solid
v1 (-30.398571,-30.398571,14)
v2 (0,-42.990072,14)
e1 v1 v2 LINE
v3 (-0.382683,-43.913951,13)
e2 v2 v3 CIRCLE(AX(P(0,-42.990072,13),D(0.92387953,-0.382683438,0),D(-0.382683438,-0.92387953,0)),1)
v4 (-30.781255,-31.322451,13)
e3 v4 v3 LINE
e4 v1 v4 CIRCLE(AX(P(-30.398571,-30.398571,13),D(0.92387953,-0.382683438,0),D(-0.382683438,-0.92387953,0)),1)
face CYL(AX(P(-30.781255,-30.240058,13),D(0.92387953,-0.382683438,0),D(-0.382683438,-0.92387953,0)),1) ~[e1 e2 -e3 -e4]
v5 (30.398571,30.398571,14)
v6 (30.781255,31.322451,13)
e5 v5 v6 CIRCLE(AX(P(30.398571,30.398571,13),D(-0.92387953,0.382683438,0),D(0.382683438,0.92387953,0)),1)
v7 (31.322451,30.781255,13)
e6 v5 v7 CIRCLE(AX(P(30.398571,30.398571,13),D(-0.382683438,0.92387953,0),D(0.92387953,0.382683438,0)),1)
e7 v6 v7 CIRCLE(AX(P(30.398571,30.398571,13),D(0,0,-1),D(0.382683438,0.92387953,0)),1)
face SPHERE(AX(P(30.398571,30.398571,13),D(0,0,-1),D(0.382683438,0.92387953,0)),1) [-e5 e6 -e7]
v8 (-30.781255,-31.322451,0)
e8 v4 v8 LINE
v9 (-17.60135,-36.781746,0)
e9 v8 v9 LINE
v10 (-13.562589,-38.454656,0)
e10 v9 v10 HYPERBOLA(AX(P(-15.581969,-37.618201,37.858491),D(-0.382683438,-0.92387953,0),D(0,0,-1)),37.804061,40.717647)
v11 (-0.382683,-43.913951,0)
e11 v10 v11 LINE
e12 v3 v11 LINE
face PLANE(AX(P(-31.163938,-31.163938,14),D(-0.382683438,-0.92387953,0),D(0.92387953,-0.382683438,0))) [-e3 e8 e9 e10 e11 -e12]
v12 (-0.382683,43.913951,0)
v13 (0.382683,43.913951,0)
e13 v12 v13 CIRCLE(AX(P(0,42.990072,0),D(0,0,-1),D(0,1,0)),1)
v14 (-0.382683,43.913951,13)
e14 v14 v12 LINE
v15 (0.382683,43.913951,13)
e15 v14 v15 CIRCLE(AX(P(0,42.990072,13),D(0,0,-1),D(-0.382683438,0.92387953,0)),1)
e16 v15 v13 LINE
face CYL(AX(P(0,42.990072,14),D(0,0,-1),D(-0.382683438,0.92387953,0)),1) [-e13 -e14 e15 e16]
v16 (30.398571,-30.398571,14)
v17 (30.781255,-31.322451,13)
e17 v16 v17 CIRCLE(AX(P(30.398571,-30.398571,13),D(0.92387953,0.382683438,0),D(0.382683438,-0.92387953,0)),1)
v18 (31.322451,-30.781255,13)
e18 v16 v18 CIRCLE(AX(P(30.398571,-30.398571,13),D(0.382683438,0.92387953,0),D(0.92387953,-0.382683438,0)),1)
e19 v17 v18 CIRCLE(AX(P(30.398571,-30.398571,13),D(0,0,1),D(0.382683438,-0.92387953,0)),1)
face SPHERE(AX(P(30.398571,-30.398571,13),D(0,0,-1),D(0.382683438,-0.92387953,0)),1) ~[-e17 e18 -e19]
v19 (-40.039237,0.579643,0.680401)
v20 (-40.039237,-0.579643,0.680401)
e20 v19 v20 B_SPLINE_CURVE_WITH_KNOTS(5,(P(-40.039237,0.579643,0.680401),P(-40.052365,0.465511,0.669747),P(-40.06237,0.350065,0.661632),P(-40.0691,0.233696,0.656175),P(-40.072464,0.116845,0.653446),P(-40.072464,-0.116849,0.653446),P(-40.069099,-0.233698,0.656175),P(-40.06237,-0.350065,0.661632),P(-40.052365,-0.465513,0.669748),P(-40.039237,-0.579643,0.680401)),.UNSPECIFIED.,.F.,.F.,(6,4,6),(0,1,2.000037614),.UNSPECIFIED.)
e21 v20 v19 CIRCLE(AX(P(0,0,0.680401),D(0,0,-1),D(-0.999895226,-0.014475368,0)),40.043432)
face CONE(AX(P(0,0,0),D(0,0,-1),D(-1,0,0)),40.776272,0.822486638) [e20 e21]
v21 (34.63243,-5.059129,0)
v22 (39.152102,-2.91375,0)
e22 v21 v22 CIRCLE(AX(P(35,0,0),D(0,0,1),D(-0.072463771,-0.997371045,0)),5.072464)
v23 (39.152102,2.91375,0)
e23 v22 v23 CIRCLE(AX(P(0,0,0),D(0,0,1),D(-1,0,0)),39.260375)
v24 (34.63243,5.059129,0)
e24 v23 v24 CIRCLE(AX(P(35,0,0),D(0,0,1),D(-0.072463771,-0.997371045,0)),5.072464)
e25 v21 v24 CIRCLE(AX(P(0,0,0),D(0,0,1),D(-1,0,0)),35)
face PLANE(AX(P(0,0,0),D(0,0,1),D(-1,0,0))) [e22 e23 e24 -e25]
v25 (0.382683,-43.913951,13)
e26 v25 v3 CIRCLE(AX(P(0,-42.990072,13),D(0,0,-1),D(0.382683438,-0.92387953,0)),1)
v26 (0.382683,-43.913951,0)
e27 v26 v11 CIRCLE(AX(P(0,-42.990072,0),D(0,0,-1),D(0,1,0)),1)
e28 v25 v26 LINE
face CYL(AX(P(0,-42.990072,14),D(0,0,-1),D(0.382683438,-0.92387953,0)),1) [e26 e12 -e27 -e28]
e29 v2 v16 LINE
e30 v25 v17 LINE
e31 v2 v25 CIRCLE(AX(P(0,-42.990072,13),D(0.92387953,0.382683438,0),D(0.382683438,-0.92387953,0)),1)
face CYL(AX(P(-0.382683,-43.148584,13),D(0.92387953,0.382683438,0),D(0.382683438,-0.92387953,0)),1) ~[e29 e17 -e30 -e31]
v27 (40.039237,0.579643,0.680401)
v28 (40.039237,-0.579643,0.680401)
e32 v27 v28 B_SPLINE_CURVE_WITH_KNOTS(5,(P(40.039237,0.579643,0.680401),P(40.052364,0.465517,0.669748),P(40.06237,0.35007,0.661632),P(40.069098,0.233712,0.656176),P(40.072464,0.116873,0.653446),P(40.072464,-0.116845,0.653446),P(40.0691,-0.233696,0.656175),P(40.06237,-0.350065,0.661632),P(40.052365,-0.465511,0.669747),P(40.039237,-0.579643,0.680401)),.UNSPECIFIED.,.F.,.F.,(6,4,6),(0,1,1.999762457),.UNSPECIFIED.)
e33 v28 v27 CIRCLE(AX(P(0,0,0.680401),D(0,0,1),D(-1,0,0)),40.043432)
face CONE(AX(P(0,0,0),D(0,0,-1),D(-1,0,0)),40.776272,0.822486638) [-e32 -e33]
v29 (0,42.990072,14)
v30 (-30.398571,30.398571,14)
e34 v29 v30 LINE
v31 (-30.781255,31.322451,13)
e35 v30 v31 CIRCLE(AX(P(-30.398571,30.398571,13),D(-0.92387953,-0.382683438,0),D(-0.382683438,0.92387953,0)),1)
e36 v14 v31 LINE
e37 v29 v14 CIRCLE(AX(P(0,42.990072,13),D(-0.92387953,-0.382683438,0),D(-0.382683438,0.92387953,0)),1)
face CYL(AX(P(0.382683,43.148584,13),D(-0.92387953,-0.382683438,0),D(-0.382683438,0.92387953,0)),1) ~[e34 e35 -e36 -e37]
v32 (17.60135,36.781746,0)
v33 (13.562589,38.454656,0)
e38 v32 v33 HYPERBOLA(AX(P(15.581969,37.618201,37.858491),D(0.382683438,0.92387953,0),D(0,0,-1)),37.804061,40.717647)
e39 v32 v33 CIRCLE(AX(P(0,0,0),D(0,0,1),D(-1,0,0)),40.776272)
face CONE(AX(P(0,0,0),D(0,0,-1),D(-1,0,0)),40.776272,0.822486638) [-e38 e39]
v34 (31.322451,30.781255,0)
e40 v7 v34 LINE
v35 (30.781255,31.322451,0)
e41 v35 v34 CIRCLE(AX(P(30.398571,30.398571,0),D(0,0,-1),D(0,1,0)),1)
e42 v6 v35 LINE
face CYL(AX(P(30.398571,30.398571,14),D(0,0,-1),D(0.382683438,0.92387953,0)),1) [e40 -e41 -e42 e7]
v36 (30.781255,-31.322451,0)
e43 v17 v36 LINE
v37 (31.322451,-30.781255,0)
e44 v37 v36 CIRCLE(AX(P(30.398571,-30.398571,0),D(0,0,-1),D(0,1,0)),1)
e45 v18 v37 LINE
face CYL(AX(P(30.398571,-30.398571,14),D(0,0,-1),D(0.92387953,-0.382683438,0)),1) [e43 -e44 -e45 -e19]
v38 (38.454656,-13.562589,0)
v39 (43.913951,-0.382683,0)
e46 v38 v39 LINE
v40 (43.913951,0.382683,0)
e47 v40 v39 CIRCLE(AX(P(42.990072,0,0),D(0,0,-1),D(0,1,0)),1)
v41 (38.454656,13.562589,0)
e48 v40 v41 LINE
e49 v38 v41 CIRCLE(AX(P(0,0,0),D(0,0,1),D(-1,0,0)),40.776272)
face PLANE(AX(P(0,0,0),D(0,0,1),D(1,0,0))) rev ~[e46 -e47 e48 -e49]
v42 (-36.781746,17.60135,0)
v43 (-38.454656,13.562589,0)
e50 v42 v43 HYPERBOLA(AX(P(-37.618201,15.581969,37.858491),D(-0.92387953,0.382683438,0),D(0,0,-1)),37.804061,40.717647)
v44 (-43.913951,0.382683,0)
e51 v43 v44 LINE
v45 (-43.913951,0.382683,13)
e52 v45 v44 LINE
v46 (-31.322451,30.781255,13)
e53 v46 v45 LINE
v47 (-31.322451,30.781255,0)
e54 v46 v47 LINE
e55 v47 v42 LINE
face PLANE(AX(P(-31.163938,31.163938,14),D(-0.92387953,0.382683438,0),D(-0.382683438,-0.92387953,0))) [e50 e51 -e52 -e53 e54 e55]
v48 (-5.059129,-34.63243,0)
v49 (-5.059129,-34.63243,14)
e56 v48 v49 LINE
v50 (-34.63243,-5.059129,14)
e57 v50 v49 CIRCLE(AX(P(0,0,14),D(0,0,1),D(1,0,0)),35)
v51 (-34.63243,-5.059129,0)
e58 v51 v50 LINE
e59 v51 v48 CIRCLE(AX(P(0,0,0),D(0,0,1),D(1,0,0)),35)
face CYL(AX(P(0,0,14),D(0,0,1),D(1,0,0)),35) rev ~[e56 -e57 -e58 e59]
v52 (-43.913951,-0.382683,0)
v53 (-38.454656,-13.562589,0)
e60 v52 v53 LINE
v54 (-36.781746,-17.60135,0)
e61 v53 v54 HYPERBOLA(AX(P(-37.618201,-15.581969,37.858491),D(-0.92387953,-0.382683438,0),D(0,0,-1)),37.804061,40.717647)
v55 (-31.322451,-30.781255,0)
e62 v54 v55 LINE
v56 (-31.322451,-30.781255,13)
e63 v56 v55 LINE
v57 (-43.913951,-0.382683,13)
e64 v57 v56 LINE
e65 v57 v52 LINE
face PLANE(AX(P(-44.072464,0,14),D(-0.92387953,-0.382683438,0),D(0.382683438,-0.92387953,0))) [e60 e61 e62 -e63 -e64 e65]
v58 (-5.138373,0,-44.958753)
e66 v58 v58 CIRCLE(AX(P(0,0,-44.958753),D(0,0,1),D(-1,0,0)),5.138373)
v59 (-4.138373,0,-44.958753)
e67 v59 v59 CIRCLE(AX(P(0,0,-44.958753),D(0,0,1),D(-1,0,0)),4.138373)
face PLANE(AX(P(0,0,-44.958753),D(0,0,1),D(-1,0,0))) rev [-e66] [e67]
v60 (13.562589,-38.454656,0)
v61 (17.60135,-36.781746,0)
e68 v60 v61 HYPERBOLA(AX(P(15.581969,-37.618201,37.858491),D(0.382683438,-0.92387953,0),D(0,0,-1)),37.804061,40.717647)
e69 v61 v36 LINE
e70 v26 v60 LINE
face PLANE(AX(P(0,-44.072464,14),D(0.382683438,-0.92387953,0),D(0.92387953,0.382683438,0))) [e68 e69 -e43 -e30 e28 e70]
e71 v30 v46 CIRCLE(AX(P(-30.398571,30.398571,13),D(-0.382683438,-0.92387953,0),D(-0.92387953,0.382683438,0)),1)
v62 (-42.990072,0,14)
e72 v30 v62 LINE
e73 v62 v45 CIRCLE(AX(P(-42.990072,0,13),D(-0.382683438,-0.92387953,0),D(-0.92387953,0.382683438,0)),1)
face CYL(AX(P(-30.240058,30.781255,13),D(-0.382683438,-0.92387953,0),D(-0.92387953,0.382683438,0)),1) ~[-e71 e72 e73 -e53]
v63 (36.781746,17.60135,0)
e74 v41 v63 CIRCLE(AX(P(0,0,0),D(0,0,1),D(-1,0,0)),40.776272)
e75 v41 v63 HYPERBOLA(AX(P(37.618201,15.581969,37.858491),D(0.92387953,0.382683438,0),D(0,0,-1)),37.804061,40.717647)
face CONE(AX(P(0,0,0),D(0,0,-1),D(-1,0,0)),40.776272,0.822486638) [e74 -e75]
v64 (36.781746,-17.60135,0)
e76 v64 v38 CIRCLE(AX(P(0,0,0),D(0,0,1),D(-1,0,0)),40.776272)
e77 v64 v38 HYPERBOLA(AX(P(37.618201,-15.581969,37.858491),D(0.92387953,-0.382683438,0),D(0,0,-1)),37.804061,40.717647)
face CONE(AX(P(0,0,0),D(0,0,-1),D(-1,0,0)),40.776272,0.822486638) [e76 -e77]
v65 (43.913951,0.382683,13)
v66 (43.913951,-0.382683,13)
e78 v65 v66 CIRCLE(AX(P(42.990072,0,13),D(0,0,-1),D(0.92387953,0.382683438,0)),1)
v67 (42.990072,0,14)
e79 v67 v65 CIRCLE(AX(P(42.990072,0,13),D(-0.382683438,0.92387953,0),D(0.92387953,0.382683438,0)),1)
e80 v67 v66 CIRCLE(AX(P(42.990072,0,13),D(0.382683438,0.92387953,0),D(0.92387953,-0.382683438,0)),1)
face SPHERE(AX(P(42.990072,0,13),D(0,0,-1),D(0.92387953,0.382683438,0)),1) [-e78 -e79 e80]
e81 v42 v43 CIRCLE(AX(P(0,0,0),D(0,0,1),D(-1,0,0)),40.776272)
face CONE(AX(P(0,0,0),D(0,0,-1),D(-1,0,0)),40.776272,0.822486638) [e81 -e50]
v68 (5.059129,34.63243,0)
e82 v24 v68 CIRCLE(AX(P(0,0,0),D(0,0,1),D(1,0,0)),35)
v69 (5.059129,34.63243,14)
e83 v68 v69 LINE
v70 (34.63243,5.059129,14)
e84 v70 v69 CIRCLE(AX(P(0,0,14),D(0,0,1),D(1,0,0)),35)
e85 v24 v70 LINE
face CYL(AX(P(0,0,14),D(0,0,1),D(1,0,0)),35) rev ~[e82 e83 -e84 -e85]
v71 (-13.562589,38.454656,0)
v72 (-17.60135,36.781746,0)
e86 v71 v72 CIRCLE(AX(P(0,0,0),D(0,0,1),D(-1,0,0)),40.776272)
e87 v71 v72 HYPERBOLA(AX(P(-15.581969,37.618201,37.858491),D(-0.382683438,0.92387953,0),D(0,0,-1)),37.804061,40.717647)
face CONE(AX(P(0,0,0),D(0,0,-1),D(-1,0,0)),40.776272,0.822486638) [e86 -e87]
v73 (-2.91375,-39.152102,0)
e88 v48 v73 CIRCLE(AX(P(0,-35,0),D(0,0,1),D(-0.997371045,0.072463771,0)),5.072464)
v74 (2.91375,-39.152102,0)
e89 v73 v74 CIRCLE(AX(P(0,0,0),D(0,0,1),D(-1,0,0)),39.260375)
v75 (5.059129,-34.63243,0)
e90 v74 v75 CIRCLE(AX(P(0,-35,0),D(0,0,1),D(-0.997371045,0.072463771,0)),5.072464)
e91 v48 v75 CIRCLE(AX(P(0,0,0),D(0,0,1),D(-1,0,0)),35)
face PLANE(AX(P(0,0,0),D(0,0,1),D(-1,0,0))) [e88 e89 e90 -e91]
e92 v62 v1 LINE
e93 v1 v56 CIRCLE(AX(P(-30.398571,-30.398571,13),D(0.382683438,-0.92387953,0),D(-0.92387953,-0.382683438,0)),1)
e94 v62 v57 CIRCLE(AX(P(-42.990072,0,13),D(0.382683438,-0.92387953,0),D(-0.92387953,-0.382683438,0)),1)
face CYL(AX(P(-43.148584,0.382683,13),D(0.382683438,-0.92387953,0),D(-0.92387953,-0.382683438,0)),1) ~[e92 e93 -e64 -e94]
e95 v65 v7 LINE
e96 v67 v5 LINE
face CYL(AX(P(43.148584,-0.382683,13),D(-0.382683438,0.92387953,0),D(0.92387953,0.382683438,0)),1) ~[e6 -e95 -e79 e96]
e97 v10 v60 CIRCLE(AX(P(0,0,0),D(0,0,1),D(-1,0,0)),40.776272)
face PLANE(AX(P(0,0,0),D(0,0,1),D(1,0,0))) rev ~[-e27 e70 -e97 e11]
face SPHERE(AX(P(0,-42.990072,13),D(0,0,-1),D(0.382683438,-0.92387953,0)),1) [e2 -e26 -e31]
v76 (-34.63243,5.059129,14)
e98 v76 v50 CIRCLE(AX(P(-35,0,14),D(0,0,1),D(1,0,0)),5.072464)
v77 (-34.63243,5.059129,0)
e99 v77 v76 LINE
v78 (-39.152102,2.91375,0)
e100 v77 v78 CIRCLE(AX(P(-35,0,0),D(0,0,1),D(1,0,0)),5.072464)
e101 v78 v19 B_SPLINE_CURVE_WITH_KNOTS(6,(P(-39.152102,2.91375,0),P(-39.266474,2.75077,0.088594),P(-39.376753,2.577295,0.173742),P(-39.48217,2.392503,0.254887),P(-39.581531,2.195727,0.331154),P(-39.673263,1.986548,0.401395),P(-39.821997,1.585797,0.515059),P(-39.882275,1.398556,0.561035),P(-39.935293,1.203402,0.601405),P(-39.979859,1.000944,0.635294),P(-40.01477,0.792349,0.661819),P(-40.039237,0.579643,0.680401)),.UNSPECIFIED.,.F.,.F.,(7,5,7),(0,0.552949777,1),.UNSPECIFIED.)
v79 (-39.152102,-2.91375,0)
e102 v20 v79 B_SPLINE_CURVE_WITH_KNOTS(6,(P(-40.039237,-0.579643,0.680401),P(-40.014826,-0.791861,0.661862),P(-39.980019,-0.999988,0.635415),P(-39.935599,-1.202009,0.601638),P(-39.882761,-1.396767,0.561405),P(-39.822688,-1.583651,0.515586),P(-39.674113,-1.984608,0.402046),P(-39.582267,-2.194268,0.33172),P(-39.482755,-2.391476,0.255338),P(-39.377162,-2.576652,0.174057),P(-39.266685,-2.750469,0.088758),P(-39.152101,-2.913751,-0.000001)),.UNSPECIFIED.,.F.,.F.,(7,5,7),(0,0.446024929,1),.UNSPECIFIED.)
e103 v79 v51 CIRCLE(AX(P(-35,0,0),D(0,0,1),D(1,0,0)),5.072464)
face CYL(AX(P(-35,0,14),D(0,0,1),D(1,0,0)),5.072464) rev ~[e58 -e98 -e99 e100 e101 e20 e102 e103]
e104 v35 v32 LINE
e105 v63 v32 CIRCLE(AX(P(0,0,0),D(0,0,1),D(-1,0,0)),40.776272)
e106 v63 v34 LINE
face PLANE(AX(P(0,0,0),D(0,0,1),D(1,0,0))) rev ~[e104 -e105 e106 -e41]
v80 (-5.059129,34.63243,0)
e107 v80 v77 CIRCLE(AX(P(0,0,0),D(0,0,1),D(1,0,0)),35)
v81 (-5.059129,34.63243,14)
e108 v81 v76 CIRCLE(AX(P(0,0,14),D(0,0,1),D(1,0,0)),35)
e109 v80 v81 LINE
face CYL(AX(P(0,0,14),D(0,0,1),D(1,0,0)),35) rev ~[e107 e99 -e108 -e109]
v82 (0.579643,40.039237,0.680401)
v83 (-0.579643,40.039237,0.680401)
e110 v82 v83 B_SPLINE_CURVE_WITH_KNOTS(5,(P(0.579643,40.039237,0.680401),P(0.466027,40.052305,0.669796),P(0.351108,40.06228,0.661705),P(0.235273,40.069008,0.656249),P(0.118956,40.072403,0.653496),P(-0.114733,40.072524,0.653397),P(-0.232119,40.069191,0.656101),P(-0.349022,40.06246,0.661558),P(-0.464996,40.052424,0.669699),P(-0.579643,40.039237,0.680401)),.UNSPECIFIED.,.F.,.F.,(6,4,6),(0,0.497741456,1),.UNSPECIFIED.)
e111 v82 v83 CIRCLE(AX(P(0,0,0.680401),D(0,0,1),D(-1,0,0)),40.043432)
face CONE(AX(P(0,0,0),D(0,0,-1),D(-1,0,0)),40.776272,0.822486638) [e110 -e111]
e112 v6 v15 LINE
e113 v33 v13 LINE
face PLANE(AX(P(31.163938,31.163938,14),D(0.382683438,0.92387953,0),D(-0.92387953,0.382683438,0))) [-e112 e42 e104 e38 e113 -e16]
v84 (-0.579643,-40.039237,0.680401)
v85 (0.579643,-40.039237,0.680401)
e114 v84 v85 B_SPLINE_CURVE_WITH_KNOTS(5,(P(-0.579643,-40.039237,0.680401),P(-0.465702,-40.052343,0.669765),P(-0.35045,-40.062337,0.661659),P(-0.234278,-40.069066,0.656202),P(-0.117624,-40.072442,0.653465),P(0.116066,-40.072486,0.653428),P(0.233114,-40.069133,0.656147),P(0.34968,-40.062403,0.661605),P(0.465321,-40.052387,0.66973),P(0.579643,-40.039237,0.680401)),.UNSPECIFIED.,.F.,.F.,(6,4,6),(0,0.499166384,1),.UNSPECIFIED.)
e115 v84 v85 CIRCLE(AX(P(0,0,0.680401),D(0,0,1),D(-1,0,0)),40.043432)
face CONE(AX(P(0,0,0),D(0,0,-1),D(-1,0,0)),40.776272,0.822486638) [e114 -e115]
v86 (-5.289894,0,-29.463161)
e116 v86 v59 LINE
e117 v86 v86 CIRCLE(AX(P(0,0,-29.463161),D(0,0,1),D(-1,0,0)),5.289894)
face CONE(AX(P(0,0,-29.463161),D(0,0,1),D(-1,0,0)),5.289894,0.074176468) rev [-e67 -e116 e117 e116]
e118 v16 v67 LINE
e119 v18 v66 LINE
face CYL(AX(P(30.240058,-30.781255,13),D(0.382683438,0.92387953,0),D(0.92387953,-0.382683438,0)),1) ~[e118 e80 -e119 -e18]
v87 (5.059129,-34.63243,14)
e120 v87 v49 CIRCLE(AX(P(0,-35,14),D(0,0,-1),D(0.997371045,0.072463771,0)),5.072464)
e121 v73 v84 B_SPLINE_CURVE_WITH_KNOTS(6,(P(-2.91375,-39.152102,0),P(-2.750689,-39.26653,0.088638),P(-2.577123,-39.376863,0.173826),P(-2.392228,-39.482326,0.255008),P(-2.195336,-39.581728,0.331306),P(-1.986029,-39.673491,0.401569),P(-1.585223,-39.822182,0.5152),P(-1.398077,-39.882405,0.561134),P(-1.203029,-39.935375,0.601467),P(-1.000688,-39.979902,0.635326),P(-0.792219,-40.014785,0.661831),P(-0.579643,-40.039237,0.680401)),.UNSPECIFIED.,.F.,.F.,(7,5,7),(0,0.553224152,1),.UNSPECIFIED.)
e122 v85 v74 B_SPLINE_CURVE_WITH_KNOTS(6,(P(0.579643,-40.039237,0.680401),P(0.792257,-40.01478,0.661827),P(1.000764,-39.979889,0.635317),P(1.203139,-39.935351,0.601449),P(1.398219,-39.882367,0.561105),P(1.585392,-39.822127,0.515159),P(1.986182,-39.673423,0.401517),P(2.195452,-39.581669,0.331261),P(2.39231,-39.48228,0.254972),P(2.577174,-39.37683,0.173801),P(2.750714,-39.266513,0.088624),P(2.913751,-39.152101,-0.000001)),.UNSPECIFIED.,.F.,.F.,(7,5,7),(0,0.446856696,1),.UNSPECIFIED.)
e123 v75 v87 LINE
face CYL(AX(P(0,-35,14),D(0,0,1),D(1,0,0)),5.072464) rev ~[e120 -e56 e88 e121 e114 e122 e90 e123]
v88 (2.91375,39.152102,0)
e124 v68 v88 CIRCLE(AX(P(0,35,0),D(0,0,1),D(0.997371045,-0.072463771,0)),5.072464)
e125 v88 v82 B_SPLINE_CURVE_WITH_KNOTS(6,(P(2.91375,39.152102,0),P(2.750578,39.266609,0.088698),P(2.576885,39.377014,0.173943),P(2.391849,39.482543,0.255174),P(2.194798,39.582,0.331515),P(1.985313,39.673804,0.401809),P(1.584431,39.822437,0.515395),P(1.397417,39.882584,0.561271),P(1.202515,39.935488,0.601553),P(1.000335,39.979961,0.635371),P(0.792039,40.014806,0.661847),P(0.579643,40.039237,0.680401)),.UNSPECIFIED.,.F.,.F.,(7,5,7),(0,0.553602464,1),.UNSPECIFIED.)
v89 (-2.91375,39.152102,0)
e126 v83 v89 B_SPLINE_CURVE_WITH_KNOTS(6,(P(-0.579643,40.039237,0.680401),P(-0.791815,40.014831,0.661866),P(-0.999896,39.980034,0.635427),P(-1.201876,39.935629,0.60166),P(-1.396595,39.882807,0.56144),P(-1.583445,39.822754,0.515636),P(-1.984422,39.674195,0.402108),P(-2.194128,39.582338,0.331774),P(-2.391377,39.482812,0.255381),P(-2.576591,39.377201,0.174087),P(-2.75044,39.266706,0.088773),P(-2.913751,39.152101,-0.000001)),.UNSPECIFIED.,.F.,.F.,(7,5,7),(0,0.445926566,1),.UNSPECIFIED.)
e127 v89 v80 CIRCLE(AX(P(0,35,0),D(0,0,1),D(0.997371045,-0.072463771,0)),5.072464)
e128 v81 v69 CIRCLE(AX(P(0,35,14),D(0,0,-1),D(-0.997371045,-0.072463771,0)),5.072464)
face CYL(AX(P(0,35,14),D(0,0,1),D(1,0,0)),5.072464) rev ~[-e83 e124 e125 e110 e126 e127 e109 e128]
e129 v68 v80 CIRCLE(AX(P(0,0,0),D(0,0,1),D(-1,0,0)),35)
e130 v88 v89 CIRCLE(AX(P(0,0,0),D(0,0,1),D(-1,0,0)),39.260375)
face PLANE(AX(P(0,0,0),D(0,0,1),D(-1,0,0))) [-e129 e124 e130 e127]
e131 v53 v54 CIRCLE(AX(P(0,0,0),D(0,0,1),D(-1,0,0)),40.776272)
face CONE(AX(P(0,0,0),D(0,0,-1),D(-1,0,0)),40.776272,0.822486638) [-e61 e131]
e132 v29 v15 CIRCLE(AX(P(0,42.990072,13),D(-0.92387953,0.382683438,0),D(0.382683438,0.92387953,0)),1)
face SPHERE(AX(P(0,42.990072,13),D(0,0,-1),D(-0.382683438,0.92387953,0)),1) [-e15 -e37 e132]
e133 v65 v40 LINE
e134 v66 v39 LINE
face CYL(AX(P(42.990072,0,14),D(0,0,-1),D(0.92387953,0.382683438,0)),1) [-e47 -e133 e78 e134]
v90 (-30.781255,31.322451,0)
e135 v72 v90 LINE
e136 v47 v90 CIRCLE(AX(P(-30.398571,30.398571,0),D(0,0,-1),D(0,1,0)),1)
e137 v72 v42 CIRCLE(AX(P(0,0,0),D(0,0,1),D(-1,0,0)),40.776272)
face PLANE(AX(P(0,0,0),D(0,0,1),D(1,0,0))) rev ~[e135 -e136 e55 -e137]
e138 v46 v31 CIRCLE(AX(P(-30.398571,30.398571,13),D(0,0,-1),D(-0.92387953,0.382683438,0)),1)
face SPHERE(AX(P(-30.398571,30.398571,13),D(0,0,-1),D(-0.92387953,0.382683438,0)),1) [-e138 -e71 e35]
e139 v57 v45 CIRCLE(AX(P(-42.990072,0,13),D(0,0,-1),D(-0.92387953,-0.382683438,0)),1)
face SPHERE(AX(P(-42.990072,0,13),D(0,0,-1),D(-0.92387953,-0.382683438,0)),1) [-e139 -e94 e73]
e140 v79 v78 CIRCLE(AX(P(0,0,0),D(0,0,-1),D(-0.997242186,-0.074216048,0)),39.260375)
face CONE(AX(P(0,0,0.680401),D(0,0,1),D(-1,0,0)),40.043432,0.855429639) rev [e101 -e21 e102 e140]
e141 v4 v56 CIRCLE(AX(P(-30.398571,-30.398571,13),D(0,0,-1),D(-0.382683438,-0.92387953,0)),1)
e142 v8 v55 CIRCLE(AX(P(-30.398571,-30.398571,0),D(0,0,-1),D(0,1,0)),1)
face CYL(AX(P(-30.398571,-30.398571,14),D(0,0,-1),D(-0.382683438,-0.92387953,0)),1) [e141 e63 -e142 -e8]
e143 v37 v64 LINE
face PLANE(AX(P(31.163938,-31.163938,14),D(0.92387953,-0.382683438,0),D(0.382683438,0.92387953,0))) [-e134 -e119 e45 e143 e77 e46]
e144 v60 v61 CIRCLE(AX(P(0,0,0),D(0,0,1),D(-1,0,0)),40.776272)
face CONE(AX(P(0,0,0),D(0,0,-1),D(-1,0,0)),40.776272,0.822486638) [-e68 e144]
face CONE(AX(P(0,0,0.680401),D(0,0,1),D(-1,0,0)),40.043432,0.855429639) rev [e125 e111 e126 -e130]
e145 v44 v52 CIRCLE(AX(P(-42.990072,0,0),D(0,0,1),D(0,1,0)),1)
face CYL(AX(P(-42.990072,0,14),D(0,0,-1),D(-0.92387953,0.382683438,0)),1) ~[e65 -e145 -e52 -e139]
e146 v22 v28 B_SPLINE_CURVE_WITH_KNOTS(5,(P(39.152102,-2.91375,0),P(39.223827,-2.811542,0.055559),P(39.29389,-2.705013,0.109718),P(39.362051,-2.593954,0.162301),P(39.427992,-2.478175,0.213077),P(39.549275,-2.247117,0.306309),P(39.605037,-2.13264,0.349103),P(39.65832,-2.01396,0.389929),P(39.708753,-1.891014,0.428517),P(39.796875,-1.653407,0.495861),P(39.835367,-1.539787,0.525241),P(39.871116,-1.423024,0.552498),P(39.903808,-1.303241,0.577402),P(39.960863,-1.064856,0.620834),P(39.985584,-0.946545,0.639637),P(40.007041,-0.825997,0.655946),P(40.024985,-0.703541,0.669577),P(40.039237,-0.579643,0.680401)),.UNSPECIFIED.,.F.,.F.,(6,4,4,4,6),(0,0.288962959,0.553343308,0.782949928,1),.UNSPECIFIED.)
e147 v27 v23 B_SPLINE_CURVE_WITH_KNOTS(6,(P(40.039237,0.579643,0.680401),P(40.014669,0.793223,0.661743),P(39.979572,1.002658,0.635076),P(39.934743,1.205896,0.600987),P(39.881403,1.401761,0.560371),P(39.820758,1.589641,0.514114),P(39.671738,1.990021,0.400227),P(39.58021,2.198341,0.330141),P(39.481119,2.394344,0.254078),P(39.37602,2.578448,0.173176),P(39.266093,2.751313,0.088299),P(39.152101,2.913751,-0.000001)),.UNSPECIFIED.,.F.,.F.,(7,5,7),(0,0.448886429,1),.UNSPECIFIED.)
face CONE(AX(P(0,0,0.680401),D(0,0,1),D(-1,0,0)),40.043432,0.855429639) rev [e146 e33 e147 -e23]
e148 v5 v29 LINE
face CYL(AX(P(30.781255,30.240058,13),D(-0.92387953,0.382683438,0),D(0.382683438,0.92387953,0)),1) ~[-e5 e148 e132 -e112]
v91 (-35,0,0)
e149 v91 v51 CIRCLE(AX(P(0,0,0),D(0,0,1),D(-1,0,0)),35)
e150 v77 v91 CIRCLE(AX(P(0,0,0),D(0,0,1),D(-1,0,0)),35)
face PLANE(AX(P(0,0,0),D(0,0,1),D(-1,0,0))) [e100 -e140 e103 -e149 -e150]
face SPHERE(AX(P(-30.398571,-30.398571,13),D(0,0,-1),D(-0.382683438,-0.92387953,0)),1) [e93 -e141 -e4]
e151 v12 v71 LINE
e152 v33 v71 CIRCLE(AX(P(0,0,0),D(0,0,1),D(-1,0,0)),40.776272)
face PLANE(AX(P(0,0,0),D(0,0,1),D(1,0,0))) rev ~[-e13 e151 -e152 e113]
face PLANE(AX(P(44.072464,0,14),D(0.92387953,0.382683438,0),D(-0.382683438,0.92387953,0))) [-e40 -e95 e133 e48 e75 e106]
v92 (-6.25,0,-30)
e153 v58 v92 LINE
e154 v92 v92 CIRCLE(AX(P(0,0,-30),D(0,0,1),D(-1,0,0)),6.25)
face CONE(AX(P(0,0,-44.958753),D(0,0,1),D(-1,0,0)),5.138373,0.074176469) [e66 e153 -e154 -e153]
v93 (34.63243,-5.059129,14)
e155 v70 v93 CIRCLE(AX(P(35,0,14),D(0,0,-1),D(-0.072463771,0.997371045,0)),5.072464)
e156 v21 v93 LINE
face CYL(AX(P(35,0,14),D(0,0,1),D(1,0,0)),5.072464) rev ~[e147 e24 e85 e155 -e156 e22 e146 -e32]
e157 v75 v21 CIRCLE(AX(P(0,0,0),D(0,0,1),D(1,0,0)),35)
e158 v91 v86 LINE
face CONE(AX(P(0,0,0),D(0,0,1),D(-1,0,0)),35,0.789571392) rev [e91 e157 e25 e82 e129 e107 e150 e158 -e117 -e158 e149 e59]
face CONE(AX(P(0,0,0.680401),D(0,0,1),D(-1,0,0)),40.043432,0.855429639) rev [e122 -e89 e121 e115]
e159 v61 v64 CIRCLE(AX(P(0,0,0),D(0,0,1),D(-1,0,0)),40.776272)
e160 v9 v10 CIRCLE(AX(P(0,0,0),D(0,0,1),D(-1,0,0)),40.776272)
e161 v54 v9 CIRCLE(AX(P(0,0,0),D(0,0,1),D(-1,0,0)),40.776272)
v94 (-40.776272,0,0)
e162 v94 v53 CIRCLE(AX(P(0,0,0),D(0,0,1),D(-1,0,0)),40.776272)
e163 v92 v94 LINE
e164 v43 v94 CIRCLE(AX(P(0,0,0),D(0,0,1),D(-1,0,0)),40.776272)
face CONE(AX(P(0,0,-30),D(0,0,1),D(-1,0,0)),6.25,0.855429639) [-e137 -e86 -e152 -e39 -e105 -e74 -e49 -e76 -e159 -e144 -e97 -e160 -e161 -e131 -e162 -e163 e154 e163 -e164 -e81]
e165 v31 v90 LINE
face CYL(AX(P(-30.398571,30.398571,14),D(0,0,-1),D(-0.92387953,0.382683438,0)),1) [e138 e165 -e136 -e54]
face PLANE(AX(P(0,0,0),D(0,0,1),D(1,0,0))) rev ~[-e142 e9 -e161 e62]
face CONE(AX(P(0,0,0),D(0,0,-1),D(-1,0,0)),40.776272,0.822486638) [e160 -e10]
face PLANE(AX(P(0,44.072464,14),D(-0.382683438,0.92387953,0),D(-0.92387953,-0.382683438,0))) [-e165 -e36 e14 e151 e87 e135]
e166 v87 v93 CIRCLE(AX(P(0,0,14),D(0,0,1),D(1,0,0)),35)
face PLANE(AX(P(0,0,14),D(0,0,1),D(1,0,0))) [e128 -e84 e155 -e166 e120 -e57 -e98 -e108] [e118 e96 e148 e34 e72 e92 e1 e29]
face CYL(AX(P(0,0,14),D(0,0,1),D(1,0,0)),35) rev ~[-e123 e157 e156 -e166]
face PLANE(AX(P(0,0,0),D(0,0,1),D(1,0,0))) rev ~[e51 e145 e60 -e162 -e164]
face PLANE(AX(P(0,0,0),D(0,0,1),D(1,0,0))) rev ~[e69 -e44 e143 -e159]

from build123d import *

# Parameters (mm, degrees)
SKETCH002_R     = 35
PAD001_DEPTH    = 14
SKETCH005_R     = 5.072464
POCKET001_DEPTH = 14
FILLET_R        = 1


with BuildPart() as part:
    # Sketch002 → Pad001 (new body)
    with BuildSketch(Plane.XY.offset(14)):
        Polygon((-31.163938, 31.163938), (-44.072464, 0), (-31.163938, -31.163938), (0, -44.072464), (31.163938, -31.163938), (44.072464, 0), (31.163938, 31.163938), (0, 44.072464), align=None)
        Circle(SKETCH002_R, mode=Mode.SUBTRACT)
    extrude(amount=-PAD001_DEPTH)

    # Sketch005 (on Face10 of Pad001) → Pocket001 (cut)
    with BuildSketch(Plane.XY.offset(14)):
        with Locations((0, 35)):
            Circle(SKETCH005_R)
        with Locations((35, 0)):
            Circle(SKETCH005_R)
        with Locations((0, -35)):
            Circle(SKETCH005_R)
        with Locations((-35, 0)):
            Circle(SKETCH005_R)
    extrude(amount=-POCKET001_DEPTH, mode=Mode.SUBTRACT)

    # Sketch006 → Revolution (revolve)
    with BuildSketch(Plane.XZ):
        Polygon((-40.776272, 0), (-40.043432, 0.680401), (-39.260375, 0), (-35, 0), (-5.289894, -29.463161), (-4.138373, -44.958753), (-5.138373, -44.958753), (-6.25, -30), align=None)
    revolve(axis=Axis((0, 0, 0), (0, 0, 1)))

    # Fillet
    fillet_edges = [part.edges().sort_by_distance(p)[0] for p in [
        (31.163938, 31.163938, 7),
        (15.581969, 37.618201, 14),
        (0, 44.072464, 7),
        (-15.581969, 37.618201, 14),
        (-31.163938, 31.163938, 7),
        (44.072464, 0, 7),
        (37.618201, 15.581969, 14),
        (37.618201, -15.581969, 14),
        (31.163938, -31.163938, 7),
        (15.581969, -37.618201, 14),
        (-15.581969, -37.618201, 14),
        (-37.618201, -15.581969, 14),
        (-37.618201, 15.581969, 14),
        (-44.072464, 0, 7),
        (-31.163938, -31.163938, 7),
        (0, -44.072464, 7),
    ]]
    fillet(fillet_edges, radius=FILLET_R)


solid = part.part
